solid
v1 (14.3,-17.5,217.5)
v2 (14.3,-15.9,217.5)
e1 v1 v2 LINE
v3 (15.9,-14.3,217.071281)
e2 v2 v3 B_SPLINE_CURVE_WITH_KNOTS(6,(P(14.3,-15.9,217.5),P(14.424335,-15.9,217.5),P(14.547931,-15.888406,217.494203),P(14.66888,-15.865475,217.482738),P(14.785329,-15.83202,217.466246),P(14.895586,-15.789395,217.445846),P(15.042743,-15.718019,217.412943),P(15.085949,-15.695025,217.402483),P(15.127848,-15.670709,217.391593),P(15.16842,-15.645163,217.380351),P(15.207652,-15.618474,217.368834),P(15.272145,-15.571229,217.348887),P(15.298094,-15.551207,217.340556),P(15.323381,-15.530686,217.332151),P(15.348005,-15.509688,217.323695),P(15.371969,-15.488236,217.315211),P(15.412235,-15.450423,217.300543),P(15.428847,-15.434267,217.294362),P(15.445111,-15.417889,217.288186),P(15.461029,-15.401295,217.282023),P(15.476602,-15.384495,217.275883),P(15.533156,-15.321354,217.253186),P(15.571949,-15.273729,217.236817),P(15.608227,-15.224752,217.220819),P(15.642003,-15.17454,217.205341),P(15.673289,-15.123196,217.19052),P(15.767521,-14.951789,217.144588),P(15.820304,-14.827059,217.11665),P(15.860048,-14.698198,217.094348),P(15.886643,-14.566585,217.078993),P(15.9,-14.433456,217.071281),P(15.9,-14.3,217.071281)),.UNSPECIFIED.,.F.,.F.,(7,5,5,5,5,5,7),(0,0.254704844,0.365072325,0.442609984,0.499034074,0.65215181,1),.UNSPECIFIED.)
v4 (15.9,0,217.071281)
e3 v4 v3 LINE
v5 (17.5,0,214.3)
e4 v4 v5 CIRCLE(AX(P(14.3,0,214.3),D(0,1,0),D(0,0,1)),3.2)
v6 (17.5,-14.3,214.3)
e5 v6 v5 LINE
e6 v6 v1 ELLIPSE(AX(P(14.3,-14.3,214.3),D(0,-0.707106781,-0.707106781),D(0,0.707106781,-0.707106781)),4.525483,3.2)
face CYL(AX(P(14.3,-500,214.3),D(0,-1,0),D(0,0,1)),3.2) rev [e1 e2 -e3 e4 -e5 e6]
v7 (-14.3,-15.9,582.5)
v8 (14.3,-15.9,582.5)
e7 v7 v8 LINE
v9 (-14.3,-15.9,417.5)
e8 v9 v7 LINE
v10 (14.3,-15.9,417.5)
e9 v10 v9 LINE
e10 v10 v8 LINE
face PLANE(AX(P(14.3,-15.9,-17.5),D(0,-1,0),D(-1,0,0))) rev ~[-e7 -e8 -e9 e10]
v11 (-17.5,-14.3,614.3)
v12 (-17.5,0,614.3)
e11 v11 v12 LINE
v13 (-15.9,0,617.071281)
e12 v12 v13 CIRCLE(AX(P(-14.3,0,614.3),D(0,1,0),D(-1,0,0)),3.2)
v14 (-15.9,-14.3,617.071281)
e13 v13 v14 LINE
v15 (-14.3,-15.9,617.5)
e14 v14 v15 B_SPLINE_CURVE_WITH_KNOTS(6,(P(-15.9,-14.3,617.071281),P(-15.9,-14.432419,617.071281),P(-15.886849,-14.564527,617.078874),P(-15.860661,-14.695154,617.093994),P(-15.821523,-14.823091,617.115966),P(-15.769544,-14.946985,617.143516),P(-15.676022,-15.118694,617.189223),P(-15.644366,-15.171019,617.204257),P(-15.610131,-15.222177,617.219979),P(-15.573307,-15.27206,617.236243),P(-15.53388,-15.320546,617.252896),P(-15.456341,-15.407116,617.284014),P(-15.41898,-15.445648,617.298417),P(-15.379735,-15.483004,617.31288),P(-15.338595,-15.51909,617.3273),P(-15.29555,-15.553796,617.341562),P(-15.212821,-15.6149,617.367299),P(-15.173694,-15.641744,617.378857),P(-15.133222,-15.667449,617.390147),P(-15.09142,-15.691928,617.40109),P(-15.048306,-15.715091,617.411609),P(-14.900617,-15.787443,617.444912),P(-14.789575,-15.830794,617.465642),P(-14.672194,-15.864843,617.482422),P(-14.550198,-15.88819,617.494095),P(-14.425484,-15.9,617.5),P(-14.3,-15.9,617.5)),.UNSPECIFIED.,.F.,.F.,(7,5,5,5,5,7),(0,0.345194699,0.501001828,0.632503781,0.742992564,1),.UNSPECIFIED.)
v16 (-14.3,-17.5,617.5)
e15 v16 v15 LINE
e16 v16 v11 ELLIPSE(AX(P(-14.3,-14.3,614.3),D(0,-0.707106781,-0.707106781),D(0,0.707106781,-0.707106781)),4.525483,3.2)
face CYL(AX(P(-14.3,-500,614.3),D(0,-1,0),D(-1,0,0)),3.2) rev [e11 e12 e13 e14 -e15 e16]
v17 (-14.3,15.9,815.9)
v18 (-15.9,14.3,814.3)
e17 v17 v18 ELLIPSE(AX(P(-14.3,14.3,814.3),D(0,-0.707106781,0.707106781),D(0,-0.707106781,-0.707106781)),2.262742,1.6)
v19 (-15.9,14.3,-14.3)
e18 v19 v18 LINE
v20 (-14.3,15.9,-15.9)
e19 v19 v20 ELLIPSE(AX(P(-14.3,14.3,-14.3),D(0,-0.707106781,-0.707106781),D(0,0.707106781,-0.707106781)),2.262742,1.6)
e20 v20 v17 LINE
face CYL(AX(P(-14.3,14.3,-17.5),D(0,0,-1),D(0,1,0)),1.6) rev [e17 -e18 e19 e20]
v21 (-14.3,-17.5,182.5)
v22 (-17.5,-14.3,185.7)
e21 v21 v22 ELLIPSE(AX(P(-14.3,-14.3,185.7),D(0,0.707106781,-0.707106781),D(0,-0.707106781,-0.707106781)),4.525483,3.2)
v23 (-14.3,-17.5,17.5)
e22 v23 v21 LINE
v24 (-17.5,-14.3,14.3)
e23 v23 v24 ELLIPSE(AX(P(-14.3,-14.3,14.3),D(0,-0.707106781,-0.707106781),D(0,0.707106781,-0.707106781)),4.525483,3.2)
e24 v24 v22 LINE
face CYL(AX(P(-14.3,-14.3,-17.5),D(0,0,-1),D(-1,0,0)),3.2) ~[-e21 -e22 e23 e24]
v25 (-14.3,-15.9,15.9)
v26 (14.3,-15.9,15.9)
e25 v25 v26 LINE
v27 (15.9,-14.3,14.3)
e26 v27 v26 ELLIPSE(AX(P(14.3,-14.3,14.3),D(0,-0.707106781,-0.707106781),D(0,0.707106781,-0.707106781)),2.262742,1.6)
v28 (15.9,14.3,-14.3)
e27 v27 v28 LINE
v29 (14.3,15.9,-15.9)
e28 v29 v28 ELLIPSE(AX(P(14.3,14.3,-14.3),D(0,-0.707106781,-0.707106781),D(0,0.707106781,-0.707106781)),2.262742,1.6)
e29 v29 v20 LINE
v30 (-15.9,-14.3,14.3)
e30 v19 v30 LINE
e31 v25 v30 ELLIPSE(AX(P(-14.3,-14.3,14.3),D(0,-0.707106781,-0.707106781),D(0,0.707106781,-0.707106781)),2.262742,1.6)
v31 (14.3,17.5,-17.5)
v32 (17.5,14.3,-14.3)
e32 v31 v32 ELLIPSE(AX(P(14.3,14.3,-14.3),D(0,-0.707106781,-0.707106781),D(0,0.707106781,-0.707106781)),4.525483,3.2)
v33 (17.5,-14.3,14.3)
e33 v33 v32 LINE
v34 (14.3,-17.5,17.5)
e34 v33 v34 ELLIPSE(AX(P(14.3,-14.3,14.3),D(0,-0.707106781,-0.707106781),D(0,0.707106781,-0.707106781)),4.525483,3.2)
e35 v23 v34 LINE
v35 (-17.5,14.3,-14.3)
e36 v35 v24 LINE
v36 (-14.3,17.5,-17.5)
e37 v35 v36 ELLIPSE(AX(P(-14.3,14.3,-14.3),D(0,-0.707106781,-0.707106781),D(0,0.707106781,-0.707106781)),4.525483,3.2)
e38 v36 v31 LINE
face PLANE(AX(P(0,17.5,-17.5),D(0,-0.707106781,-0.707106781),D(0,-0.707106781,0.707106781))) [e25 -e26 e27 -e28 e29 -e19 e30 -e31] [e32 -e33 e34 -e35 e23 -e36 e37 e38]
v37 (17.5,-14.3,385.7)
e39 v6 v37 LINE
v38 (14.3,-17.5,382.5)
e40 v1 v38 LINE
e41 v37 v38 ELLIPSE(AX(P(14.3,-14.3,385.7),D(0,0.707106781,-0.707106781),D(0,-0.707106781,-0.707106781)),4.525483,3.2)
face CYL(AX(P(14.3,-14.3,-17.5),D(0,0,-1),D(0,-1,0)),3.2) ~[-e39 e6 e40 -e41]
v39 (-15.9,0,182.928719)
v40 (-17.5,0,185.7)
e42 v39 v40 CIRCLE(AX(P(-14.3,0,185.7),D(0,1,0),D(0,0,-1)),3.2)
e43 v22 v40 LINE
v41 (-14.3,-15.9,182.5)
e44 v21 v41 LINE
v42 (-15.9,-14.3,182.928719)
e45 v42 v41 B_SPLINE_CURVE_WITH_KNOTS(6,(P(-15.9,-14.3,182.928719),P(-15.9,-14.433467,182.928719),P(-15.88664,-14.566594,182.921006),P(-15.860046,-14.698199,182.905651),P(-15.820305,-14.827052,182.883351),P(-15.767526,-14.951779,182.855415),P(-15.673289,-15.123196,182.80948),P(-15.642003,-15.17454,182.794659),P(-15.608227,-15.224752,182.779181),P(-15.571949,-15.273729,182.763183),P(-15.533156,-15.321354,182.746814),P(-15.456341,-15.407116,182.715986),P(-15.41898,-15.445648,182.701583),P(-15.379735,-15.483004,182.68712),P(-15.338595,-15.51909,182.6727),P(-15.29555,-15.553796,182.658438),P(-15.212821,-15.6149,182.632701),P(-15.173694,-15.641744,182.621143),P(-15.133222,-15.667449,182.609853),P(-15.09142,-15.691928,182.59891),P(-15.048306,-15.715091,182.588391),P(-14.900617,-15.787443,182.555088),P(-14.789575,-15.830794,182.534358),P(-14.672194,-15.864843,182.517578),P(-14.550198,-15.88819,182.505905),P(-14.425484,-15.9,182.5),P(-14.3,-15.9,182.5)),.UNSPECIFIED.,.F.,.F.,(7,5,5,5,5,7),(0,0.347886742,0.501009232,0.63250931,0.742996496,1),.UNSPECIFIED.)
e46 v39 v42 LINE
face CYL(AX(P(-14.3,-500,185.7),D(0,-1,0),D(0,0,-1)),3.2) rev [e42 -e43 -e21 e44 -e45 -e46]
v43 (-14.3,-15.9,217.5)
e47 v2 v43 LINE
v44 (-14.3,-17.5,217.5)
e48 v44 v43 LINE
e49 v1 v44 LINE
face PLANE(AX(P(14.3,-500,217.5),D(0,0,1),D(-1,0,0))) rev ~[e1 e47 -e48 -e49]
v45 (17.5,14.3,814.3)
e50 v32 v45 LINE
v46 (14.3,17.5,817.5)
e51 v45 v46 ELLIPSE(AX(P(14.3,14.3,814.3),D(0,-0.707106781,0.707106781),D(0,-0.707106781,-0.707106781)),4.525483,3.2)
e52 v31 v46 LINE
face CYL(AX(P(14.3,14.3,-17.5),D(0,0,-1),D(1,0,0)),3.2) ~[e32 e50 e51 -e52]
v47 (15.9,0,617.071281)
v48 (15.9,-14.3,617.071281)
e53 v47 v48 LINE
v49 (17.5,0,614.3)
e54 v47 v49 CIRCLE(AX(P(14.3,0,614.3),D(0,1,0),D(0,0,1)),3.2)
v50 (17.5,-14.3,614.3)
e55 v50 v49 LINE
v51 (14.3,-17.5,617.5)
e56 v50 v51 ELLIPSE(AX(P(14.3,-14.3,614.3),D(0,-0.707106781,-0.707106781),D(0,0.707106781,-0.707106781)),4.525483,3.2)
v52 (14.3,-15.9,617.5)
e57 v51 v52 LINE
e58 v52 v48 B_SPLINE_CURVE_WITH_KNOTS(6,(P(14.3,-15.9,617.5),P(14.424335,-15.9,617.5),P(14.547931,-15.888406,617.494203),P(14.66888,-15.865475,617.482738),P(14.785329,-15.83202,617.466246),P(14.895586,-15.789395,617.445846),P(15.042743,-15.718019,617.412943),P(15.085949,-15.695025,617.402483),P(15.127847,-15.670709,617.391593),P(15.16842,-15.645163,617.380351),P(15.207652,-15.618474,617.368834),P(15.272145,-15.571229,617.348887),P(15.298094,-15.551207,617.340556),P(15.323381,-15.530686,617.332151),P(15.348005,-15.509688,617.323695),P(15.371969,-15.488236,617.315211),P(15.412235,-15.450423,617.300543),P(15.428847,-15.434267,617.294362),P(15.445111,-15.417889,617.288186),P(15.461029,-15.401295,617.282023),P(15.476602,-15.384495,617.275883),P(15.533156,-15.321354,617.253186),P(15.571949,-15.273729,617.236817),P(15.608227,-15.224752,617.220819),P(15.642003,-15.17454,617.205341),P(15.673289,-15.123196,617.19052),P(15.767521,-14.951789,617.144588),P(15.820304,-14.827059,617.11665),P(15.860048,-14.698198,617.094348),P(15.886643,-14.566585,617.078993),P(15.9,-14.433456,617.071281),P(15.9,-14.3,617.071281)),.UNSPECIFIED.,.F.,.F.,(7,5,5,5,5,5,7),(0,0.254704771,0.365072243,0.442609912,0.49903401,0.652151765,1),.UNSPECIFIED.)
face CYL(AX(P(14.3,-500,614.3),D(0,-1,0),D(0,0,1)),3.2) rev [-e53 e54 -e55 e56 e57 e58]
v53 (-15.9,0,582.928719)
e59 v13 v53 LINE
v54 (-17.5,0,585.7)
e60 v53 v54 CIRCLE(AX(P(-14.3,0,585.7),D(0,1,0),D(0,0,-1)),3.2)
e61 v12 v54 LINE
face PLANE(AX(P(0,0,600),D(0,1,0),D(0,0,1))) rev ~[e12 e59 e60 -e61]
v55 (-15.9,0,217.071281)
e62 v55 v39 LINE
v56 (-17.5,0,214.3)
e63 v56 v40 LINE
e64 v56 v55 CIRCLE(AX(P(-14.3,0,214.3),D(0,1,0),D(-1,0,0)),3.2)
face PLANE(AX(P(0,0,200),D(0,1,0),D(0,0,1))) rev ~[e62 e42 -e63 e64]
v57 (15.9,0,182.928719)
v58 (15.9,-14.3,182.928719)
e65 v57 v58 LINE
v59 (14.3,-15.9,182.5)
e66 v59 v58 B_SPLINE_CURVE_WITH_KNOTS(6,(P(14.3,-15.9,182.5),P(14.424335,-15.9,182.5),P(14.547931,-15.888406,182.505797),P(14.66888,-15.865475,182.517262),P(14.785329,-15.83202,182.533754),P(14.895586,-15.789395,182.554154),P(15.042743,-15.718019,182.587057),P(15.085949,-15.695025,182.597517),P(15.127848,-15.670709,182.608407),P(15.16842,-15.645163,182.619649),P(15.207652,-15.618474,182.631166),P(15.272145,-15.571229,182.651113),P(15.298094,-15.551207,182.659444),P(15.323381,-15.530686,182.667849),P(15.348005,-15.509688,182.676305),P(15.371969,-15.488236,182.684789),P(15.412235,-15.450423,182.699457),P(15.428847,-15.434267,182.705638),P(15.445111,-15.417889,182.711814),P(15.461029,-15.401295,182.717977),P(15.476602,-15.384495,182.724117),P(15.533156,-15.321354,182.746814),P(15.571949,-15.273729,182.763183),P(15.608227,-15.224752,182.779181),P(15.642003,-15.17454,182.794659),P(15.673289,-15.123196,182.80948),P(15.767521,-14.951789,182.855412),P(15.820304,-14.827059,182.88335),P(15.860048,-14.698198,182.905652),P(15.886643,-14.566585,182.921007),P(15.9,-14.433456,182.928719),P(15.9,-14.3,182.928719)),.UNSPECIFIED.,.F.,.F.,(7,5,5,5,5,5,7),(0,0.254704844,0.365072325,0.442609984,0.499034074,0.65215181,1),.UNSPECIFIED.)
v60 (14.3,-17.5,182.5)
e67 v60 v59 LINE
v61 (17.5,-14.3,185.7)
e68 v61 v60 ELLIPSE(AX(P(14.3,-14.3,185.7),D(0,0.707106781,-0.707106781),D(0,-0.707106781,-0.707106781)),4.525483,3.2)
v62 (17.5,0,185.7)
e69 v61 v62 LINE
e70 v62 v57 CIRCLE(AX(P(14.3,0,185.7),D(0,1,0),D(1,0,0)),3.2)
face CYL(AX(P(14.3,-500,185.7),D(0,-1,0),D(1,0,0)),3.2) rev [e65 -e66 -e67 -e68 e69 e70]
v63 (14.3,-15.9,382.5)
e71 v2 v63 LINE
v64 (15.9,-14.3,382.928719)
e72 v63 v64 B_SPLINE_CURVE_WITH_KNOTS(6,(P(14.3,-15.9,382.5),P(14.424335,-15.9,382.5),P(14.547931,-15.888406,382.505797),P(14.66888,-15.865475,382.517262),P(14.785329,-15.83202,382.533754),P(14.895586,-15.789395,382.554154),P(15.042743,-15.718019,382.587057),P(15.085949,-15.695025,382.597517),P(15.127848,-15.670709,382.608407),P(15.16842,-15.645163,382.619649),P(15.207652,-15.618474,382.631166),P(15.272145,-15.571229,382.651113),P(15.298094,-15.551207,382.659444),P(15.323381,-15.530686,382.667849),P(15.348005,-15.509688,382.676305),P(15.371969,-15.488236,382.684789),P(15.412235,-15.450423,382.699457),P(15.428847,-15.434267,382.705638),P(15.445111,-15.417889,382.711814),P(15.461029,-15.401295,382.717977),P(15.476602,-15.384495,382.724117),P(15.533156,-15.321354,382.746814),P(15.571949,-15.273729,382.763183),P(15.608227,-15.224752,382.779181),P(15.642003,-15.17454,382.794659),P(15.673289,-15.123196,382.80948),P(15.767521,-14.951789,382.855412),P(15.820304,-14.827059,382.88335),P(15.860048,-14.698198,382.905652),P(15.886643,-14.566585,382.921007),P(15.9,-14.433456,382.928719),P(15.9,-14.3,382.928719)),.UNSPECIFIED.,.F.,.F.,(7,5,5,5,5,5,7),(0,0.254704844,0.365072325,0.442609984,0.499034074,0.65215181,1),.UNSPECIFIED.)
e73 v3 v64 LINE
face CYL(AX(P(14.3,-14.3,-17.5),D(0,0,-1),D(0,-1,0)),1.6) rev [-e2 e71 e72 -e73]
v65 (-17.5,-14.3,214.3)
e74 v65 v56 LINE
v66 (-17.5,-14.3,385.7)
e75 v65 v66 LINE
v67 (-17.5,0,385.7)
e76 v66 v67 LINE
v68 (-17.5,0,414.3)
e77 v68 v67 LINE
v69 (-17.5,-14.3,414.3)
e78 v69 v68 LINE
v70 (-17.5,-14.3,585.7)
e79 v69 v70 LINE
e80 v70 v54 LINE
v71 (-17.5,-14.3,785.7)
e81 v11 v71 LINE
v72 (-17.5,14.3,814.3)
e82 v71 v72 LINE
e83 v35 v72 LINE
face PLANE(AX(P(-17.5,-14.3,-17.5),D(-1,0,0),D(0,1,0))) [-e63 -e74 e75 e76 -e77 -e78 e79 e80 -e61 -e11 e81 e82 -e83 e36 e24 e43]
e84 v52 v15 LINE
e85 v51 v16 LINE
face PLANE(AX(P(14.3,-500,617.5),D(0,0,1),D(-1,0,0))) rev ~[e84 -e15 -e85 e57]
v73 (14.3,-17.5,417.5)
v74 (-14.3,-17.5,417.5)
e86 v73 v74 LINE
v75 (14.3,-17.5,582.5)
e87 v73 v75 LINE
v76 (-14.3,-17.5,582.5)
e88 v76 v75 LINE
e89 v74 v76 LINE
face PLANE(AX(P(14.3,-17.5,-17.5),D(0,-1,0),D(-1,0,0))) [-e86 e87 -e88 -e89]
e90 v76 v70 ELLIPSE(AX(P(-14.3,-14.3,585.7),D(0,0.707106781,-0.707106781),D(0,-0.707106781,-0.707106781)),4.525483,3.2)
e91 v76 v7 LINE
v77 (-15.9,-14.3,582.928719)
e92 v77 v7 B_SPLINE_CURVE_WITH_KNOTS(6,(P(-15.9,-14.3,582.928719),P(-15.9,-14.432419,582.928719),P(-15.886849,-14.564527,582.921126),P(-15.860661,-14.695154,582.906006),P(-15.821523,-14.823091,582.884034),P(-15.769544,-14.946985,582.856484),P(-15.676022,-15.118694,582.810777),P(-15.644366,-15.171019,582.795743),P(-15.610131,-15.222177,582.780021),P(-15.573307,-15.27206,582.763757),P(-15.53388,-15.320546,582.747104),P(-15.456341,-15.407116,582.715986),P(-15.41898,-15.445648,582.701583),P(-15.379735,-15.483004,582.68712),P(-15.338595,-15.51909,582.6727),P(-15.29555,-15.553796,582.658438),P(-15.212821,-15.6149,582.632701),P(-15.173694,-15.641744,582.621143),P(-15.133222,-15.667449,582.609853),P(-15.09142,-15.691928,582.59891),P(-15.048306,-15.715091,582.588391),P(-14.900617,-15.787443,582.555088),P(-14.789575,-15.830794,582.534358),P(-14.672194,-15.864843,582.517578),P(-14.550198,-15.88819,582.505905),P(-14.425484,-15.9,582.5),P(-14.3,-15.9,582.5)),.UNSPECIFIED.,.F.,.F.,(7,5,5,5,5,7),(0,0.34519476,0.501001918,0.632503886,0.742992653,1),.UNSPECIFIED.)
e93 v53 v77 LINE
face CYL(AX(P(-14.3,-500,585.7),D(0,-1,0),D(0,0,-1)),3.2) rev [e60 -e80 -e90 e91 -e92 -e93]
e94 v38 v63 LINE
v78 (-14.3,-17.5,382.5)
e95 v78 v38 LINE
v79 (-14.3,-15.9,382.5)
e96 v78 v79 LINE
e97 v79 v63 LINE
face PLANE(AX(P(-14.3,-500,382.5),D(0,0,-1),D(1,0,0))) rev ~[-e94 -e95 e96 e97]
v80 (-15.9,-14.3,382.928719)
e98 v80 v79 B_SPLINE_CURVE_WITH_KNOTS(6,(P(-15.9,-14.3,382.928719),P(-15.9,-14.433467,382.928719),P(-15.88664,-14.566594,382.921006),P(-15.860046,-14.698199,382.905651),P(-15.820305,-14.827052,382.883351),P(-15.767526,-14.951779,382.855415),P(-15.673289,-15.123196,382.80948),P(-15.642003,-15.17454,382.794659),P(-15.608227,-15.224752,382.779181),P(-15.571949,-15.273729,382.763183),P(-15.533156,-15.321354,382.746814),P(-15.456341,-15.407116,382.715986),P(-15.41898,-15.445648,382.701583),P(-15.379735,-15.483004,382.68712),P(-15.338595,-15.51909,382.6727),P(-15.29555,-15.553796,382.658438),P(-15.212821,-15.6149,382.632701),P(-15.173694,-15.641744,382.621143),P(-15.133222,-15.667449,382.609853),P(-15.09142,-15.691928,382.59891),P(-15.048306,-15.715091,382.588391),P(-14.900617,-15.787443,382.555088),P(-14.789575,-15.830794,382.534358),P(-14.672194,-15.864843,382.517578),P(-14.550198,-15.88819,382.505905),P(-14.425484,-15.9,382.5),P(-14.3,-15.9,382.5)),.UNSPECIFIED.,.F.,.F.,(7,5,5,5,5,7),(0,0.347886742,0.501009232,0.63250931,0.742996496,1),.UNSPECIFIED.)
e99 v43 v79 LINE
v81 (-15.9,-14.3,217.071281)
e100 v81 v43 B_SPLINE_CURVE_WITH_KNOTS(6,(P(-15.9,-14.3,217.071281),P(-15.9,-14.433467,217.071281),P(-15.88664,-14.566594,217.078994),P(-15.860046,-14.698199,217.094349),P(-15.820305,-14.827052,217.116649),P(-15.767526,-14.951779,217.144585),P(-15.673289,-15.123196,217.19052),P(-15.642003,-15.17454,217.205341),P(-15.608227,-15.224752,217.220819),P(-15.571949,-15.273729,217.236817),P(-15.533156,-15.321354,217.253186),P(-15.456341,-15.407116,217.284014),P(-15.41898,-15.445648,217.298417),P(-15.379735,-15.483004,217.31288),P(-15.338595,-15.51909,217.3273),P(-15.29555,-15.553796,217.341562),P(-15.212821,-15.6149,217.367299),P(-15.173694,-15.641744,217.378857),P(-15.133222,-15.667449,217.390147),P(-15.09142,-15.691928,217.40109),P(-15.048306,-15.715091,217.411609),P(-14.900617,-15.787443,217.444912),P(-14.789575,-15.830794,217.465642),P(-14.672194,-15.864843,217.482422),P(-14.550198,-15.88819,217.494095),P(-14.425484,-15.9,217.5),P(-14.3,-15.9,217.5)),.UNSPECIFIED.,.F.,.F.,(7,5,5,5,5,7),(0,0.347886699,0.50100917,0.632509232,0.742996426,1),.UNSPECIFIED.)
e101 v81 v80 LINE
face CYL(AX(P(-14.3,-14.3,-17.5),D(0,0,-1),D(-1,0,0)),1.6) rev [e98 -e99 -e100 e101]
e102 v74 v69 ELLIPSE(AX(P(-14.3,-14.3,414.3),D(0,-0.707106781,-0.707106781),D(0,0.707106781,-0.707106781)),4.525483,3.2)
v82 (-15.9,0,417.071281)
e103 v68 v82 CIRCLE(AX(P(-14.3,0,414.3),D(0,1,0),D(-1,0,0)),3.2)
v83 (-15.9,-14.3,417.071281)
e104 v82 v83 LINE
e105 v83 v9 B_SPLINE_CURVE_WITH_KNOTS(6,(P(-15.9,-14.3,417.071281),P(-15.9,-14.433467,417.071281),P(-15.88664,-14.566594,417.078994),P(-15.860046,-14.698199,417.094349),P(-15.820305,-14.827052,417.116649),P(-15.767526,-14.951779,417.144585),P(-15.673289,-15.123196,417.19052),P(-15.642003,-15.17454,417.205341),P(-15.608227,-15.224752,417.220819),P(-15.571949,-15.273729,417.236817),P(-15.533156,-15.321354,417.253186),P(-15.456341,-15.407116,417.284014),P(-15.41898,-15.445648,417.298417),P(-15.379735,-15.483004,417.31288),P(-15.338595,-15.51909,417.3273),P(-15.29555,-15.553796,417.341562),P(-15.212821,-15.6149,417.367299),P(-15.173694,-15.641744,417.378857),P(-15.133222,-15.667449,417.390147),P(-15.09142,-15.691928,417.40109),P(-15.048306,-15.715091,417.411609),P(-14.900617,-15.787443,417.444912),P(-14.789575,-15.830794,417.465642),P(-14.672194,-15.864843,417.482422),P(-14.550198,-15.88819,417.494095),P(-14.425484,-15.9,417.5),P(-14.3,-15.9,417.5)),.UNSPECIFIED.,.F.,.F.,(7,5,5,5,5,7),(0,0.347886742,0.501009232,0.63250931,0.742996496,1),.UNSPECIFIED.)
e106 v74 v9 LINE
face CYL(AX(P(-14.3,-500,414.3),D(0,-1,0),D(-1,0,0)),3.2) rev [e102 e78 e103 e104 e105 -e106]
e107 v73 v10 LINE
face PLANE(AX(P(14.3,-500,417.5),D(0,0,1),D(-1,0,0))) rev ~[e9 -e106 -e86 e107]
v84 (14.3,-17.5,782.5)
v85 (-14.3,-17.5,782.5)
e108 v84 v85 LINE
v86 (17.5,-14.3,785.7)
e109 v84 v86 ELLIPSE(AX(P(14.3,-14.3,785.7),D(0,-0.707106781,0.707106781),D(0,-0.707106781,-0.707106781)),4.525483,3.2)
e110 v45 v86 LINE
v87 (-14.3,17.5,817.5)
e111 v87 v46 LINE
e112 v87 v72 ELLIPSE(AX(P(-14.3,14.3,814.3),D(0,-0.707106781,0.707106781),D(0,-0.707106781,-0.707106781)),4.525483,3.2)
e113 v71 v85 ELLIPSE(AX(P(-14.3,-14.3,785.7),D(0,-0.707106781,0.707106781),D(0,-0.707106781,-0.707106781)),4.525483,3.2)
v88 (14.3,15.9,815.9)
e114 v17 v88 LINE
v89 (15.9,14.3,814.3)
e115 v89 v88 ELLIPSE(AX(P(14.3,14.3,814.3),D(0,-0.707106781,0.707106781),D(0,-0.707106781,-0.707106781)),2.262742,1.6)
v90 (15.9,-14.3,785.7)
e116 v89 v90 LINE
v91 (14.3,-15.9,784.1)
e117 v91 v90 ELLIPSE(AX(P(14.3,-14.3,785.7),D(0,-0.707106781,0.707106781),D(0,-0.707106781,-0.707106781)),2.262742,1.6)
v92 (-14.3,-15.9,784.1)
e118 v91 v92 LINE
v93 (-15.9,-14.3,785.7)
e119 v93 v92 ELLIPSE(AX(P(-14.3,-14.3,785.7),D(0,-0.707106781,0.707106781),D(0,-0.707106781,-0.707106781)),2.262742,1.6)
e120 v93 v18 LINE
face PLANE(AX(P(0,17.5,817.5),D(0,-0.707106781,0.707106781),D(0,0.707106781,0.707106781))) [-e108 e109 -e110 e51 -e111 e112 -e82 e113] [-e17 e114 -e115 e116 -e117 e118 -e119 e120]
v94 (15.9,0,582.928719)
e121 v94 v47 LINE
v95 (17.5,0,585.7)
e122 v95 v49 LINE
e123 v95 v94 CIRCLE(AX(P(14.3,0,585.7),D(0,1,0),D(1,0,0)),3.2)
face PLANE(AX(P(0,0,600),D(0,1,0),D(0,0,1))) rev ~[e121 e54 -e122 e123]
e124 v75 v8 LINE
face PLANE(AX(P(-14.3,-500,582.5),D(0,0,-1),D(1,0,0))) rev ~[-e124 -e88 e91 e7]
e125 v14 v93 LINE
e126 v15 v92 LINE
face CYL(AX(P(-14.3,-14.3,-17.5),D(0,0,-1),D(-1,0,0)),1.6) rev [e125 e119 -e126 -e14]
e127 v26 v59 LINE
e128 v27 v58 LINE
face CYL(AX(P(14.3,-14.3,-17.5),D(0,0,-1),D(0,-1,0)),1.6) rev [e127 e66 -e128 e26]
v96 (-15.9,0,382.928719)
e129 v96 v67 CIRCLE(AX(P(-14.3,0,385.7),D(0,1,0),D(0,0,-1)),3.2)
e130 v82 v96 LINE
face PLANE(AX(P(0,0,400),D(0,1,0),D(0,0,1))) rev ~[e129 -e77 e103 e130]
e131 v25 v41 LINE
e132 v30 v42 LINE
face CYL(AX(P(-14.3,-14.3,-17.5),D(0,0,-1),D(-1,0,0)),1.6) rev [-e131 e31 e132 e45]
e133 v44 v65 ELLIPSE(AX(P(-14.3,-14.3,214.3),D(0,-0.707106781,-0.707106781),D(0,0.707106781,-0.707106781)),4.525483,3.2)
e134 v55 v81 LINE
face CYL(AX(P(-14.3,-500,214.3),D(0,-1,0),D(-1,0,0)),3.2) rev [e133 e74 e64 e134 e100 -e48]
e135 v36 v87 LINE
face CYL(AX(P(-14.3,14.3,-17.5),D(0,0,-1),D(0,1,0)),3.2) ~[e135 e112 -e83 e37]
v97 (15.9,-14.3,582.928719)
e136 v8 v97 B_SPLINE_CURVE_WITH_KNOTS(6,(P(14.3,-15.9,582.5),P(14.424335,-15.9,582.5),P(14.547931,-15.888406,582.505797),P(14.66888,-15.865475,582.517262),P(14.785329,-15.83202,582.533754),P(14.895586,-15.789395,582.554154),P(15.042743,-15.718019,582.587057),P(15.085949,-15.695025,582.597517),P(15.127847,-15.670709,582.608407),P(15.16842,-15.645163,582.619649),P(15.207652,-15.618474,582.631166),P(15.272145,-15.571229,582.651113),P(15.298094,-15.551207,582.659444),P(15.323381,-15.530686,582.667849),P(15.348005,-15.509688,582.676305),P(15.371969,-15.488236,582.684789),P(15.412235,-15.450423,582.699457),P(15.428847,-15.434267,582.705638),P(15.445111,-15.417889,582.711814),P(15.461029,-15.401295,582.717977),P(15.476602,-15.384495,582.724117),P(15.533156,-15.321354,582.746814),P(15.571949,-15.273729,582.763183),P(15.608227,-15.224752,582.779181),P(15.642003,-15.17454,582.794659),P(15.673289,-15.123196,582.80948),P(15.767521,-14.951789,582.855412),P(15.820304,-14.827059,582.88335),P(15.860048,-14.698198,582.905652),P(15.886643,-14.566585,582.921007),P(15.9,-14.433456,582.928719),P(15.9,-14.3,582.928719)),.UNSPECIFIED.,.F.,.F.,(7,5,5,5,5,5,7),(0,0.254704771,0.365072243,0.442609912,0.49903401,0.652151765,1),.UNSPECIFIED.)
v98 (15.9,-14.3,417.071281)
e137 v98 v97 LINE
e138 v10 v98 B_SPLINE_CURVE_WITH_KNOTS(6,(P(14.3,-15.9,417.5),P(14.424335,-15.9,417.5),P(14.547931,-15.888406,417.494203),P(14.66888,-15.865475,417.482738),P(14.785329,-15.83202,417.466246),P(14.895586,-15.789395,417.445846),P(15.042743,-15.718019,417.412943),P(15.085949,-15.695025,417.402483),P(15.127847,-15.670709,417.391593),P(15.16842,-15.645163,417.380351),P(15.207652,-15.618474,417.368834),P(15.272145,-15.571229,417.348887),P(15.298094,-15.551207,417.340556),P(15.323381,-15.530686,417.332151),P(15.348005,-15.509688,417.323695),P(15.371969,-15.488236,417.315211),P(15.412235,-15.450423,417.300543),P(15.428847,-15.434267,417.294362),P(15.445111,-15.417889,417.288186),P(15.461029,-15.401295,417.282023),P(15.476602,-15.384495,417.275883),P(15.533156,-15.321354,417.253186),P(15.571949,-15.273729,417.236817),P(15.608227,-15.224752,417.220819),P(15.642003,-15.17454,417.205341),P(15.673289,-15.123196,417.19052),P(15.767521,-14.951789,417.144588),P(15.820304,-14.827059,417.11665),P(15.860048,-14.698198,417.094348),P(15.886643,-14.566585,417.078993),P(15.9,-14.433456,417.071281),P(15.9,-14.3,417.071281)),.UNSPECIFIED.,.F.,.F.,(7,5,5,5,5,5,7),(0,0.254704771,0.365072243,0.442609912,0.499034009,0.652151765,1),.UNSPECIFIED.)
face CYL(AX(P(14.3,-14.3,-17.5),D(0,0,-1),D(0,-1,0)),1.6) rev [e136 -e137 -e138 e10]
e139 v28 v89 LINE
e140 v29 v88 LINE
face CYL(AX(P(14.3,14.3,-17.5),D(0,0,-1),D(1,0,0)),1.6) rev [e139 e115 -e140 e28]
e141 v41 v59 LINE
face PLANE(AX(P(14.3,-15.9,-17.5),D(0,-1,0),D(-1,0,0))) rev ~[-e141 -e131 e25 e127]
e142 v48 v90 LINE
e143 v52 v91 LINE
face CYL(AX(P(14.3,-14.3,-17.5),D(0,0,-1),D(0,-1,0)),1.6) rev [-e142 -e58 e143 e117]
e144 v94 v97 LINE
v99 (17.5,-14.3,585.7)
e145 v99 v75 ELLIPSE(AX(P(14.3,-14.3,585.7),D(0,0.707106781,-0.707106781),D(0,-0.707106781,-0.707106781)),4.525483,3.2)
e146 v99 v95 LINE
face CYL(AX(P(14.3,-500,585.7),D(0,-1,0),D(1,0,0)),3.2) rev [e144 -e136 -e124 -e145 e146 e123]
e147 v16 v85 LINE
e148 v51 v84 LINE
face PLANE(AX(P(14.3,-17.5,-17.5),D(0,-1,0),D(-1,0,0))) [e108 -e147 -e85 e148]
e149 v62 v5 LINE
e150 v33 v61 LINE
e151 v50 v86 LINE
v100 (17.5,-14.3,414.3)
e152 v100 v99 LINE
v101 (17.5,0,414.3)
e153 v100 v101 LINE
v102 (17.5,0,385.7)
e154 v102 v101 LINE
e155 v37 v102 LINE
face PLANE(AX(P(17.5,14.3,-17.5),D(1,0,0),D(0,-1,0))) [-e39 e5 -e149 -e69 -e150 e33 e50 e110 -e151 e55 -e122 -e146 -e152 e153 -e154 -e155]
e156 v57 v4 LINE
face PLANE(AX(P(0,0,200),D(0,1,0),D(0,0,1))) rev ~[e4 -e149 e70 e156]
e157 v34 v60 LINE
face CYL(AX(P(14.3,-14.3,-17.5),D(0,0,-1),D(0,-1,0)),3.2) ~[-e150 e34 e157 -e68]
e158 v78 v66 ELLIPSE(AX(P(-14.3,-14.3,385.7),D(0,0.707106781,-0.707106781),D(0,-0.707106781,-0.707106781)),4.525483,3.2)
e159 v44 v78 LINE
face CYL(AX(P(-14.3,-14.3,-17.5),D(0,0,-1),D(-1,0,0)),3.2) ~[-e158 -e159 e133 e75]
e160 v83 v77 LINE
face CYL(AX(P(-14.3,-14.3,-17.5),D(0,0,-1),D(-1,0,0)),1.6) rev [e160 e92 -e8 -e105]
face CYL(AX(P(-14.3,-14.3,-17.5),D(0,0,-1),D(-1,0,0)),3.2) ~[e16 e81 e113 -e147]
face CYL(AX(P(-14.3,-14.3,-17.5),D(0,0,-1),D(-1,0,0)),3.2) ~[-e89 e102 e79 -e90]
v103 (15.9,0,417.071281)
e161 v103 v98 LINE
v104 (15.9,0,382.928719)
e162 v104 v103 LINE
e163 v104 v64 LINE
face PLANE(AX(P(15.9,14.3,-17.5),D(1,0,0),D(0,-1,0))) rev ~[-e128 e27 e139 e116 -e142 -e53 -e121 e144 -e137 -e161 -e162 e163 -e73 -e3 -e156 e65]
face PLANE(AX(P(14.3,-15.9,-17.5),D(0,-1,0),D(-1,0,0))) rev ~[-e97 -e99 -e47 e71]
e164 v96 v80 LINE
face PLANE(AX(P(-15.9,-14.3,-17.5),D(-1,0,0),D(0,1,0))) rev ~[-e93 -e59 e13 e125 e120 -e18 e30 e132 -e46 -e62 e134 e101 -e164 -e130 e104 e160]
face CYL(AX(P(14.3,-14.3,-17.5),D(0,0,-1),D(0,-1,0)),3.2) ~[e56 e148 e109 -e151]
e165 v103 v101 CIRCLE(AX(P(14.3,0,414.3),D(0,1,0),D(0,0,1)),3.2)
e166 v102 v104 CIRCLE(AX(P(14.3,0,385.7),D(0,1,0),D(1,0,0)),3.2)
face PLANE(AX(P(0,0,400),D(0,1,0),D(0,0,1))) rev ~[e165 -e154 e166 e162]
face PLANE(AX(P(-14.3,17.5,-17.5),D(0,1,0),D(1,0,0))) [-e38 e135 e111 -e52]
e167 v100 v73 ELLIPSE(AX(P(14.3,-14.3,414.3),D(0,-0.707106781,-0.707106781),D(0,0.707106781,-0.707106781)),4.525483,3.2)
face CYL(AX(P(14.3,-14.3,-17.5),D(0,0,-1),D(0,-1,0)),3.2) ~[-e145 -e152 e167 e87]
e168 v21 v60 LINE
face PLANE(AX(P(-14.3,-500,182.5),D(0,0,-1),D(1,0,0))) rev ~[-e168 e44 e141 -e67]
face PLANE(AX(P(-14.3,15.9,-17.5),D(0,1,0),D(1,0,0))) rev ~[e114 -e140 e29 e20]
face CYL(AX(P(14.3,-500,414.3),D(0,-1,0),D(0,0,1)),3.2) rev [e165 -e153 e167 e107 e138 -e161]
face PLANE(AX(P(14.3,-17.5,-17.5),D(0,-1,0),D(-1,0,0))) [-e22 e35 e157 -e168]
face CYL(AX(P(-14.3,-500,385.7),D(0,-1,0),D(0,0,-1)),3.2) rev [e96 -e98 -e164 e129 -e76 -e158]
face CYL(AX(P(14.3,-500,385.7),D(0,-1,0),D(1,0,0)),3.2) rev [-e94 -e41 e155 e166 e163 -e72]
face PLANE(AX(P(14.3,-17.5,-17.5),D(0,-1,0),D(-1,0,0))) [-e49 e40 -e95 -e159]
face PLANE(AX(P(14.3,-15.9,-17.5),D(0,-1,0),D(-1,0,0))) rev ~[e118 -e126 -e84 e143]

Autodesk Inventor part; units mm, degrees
ref_plane "Start plane" through (0, 0, -17.5) normal (0, 0, 1) x (1, 0, 0)
ref_plane "End plane" through (0, 0, 817.5) normal (0, 0, 1) x (1, 0, 0)
sketch "Sketch" plane through (0, 0, 0) normal (0, 0, 1) x (1, 0, 0)
  line L0 (-17.5, -14.3) -> (-17.5, 14.3)
  line L1 (-14.3, 17.5) -> (14.3, 17.5)
  line L2 (17.5, 14.3) -> (17.5, -14.3)
  line L3 (14.3, -17.5) -> (-14.3, -17.5)
  arc A0 (-17.5, -14.3) -> (-14.3, -17.5) centre (-14.3, -14.3) ccw
  arc A1 (-14.3, 17.5) -> (-17.5, 14.3) centre (-14.3, 14.3) ccw
  arc A2 (17.5, 14.3) -> (14.3, 17.5) centre (14.3, 14.3) ccw
  arc A3 (14.3, -17.5) -> (17.5, -14.3) centre (14.3, -14.3) ccw
  arc A4 (-14.3, 15.9) -> (-15.9, 14.3) centre (-14.3, 14.3) ccw
  line L4 (-14.3, 15.9) -> (14.3, 15.9)
  arc A5 (15.9, 14.3) -> (14.3, 15.9) centre (14.3, 14.3) ccw
  line L5 (15.9, 14.3) -> (15.9, -14.3)
  arc A6 (14.3, -15.9) -> (15.9, -14.3) centre (14.3, -14.3) ccw
  line L6 (14.3, -15.9) -> (-14.3, -15.9)
  arc A7 (-15.9, -14.3) -> (-14.3, -15.9) centre (-14.3, -14.3) ccw
  line L7 (-15.9, -14.3) -> (-15.9, 14.3)
  line L8 (0, 25.4278) -> (0, -25.4278) construction
  line L9 (-25.4278, 0) -> (25.4278, 0) construction
  dimension "d7" = 3.2
  dimension "d10" = 35
  dimension "d11" = 35
  dimension "d12" = 1.6
  dimension "d15" = 17.5
  dimension "d16" = 17.5
extrude "Body" add sketch "Sketch" along normal up to surface (835 mm away) from surface at -17.5
sketch "Sketch3" plane through (0, 0, 0) normal (0, 0, 1) x (1, 0, 0)
  line L0 (0, 0) -> (10, 0)
ref_plane "Work Plane3" through (0, 0, 0) normal (0, -1, 0) x (1, 0, 0)
sketch "Sketch4" plane through (0, 0, 0) normal (0, -1, 0) x (1, 0, 0)
  line L0 (-2, -17.5) -> (12, -17.5)
  line L1 (-2, 817.5) -> (12, 817.5)
  dimension "d18" = 835
ref_plane "Work Plane12" through (82.5, 0, -17.5) normal (0, 0, -1) x (-1, 0, 0)
split "Split3" plane through (82.5, 0, -17.5) removes the side toward (0, 0, -1)
ref_plane "Work Plane13" through (0, 17.5, -17.5) normal (0, -0.7071, -0.7071) x (1, 0, 0)
split "Split4" plane through (0, 17.5, -17.5) removes the side toward (0, -0.7071, -0.7071)
ref_plane "Work Plane16" through (0, 17.5, 817.5) normal (0, -0.7071, 0.7071) x (1, 0, 0)
split "Split7" plane through (0, 17.5, 817.5) removes the side toward (0, -0.7071, 0.7071)
ref_plane "Work Plane17" through (0, -500, 600) normal (0, 1, 0) x (0, 0, 1)
ref_plane "Work Plane18" through (0, 0, 600) normal (0, 1, 0) x (0, 0, 1)
ref_plane "Work Plane19" through (0, -250, 600) normal (0, 1, 0) x (0, 0, 1)
sketch "Sketch17" plane through (0, -250, 600) normal (0, 1, 0) x (0, 0, 1)
  arc A0 (-17.5, -14.3) -> (-14.3, -17.5) centre (-14.3, -14.3) ccw
  line L0 (-17.5, -14.3) -> (-17.5, 14.3)
  arc A1 (-14.3, 17.5) -> (-17.5, 14.3) centre (-14.3, 14.3) ccw
  line L1 (-14.3, 17.5) -> (14.3, 17.5)
  arc A2 (17.5, 14.3) -> (14.3, 17.5) centre (14.3, 14.3) ccw
  line L2 (17.5, 14.3) -> (17.5, -14.3)
  arc A3 (14.3, -17.5) -> (17.5, -14.3) centre (14.3, -14.3) ccw
  line L3 (14.3, -17.5) -> (-14.3, -17.5)
  arc A4 (-14.3, 15.9) -> (-15.9, 14.3) centre (-14.3, 14.3) ccw
  line L4 (-14.3, 15.9) -> (14.3, 15.9)
  arc A5 (15.9, 14.3) -> (14.3, 15.9) centre (14.3, 14.3) ccw
  line L5 (15.9, 14.3) -> (15.9, -14.3)
  arc A6 (14.3, -15.9) -> (15.9, -14.3) centre (14.3, -14.3) ccw
  line L6 (14.3, -15.9) -> (-14.3, -15.9)
  arc A7 (-15.9, -14.3) -> (-14.3, -15.9) centre (-14.3, -14.3) ccw
  line L7 (-15.9, -14.3) -> (-15.9, 14.3)
extrude "Extrusion14" cut sketch "Sketch17" along normal up to surface (500 mm away) from surface at -250 contours L0 A1 L1 A2 L2 A3 L3 A0 | L4 A5 L5 A6 L6 A7 L7 A4
ref_plane "Work Plane20" through (0, -500, 400) normal (0, 1, 0) x (0, 0, 1)
ref_plane "Work Plane21" through (0, 0, 400) normal (0, 1, 0) x (0, 0, 1)
ref_plane "Work Plane22" through (0, -250, 400) normal (0, 1, 0) x (0, 0, 1)
sketch "Sketch18" plane through (0, -250, 400) normal (0, 1, 0) x (0, 0, 1)
  arc A0 (-17.5, -14.3) -> (-14.3, -17.5) centre (-14.3, -14.3) ccw
  line L0 (-17.5, -14.3) -> (-17.5, 14.3)
  arc A1 (-14.3, 17.5) -> (-17.5, 14.3) centre (-14.3, 14.3) ccw
  line L1 (-14.3, 17.5) -> (14.3, 17.5)
  arc A2 (17.5, 14.3) -> (14.3, 17.5) centre (14.3, 14.3) ccw
  line L2 (17.5, 14.3) -> (17.5, -14.3)
  arc A3 (14.3, -17.5) -> (17.5, -14.3) centre (14.3, -14.3) ccw
  line L3 (14.3, -17.5) -> (-14.3, -17.5)
  arc A4 (-14.3, 15.9) -> (-15.9, 14.3) centre (-14.3, 14.3) ccw
  line L4 (-14.3, 15.9) -> (14.3, 15.9)
  arc A5 (15.9, 14.3) -> (14.3, 15.9) centre (14.3, 14.3) ccw
  line L5 (15.9, 14.3) -> (15.9, -14.3)
  arc A6 (14.3, -15.9) -> (15.9, -14.3) centre (14.3, -14.3) ccw
  line L6 (14.3, -15.9) -> (-14.3, -15.9)
  arc A7 (-15.9, -14.3) -> (-14.3, -15.9) centre (-14.3, -14.3) ccw
  line L7 (-15.9, -14.3) -> (-15.9, 14.3)
extrude "Extrusion15" cut sketch "Sketch18" along normal up to surface (500 mm away) from surface at -250 contours L0 A1 L1 A2 L2 A3 L3 A0 | L4 A5 L5 A6 L6 A7 L7 A4
ref_plane "Work Plane23" through (0, -500, 200) normal (0, 1, 0) x (0, 0, 1)
ref_plane "Work Plane24" through (0, 0, 200) normal (0, 1, 0) x (0, 0, 1)
ref_plane "Work Plane25" through (0, -250, 200) normal (0, 1, 0) x (0, 0, 1)
sketch "Sketch19" plane through (0, -250, 200) normal (0, 1, 0) x (0, 0, 1)
  arc A0 (-17.5, -14.3) -> (-14.3, -17.5) centre (-14.3, -14.3) ccw
  line L0 (-17.5, -14.3) -> (-17.5, 14.3)
  arc A1 (-14.3, 17.5) -> (-17.5, 14.3) centre (-14.3, 14.3) ccw
  line L1 (-14.3, 17.5) -> (14.3, 17.5)
  arc A2 (17.5, 14.3) -> (14.3, 17.5) centre (14.3, 14.3) ccw
  line L2 (17.5, 14.3) -> (17.5, -14.3)
  arc A3 (14.3, -17.5) -> (17.5, -14.3) centre (14.3, -14.3) ccw
  line L3 (14.3, -17.5) -> (-14.3, -17.5)
  arc A4 (-14.3, 15.9) -> (-15.9, 14.3) centre (-14.3, 14.3) ccw
  line L4 (-14.3, 15.9) -> (14.3, 15.9)
  arc A5 (15.9, 14.3) -> (14.3, 15.9) centre (14.3, 14.3) ccw
  line L5 (15.9, 14.3) -> (15.9, -14.3)
  arc A6 (14.3, -15.9) -> (15.9, -14.3) centre (14.3, -14.3) ccw
  line L6 (14.3, -15.9) -> (-14.3, -15.9)
  arc A7 (-15.9, -14.3) -> (-14.3, -15.9) centre (-14.3, -14.3) ccw
  line L7 (-15.9, -14.3) -> (-15.9, 14.3)
extrude "Extrusion16" cut sketch "Sketch19" along normal up to surface (500 mm away) from surface at -250 contours L0 A1 L1 A2 L2 A3 L3 A0 | L4 A5 L5 A6 L6 A7 L7 A4
equation "\"d7\" = G_IR"
equation "\"d10\" = G_H"
equation "\"d11\" = G_W"
equation "\"d12\" = G_T"
equation "\"d15\" = 0.5 * d10"
equation "\"d16\" = 0.5 * d11"
equation "\"d3\" = G_L"
equation "\"G_W\" = 35"
equation "\"G_H\" = 35"
equation "\"G_T\" = 1.6"
equation "\"G_IR\" = 3.2"
equation "\"G_L\" = 835"
equation "\"G_OFFSET_START\" = 17.5"
equation "\"G_OFFSET_END\" = 17.5"
equation "\"d13\" = -G_OFFSET_START"
equation "\"d14\" = G_OFFSET_END + B_L"
equation "\"B_L\" = 800"
properties part number "AS 1163 - C350L0 35x35x1.6 SHS - 835" material "Steel, Mild"
